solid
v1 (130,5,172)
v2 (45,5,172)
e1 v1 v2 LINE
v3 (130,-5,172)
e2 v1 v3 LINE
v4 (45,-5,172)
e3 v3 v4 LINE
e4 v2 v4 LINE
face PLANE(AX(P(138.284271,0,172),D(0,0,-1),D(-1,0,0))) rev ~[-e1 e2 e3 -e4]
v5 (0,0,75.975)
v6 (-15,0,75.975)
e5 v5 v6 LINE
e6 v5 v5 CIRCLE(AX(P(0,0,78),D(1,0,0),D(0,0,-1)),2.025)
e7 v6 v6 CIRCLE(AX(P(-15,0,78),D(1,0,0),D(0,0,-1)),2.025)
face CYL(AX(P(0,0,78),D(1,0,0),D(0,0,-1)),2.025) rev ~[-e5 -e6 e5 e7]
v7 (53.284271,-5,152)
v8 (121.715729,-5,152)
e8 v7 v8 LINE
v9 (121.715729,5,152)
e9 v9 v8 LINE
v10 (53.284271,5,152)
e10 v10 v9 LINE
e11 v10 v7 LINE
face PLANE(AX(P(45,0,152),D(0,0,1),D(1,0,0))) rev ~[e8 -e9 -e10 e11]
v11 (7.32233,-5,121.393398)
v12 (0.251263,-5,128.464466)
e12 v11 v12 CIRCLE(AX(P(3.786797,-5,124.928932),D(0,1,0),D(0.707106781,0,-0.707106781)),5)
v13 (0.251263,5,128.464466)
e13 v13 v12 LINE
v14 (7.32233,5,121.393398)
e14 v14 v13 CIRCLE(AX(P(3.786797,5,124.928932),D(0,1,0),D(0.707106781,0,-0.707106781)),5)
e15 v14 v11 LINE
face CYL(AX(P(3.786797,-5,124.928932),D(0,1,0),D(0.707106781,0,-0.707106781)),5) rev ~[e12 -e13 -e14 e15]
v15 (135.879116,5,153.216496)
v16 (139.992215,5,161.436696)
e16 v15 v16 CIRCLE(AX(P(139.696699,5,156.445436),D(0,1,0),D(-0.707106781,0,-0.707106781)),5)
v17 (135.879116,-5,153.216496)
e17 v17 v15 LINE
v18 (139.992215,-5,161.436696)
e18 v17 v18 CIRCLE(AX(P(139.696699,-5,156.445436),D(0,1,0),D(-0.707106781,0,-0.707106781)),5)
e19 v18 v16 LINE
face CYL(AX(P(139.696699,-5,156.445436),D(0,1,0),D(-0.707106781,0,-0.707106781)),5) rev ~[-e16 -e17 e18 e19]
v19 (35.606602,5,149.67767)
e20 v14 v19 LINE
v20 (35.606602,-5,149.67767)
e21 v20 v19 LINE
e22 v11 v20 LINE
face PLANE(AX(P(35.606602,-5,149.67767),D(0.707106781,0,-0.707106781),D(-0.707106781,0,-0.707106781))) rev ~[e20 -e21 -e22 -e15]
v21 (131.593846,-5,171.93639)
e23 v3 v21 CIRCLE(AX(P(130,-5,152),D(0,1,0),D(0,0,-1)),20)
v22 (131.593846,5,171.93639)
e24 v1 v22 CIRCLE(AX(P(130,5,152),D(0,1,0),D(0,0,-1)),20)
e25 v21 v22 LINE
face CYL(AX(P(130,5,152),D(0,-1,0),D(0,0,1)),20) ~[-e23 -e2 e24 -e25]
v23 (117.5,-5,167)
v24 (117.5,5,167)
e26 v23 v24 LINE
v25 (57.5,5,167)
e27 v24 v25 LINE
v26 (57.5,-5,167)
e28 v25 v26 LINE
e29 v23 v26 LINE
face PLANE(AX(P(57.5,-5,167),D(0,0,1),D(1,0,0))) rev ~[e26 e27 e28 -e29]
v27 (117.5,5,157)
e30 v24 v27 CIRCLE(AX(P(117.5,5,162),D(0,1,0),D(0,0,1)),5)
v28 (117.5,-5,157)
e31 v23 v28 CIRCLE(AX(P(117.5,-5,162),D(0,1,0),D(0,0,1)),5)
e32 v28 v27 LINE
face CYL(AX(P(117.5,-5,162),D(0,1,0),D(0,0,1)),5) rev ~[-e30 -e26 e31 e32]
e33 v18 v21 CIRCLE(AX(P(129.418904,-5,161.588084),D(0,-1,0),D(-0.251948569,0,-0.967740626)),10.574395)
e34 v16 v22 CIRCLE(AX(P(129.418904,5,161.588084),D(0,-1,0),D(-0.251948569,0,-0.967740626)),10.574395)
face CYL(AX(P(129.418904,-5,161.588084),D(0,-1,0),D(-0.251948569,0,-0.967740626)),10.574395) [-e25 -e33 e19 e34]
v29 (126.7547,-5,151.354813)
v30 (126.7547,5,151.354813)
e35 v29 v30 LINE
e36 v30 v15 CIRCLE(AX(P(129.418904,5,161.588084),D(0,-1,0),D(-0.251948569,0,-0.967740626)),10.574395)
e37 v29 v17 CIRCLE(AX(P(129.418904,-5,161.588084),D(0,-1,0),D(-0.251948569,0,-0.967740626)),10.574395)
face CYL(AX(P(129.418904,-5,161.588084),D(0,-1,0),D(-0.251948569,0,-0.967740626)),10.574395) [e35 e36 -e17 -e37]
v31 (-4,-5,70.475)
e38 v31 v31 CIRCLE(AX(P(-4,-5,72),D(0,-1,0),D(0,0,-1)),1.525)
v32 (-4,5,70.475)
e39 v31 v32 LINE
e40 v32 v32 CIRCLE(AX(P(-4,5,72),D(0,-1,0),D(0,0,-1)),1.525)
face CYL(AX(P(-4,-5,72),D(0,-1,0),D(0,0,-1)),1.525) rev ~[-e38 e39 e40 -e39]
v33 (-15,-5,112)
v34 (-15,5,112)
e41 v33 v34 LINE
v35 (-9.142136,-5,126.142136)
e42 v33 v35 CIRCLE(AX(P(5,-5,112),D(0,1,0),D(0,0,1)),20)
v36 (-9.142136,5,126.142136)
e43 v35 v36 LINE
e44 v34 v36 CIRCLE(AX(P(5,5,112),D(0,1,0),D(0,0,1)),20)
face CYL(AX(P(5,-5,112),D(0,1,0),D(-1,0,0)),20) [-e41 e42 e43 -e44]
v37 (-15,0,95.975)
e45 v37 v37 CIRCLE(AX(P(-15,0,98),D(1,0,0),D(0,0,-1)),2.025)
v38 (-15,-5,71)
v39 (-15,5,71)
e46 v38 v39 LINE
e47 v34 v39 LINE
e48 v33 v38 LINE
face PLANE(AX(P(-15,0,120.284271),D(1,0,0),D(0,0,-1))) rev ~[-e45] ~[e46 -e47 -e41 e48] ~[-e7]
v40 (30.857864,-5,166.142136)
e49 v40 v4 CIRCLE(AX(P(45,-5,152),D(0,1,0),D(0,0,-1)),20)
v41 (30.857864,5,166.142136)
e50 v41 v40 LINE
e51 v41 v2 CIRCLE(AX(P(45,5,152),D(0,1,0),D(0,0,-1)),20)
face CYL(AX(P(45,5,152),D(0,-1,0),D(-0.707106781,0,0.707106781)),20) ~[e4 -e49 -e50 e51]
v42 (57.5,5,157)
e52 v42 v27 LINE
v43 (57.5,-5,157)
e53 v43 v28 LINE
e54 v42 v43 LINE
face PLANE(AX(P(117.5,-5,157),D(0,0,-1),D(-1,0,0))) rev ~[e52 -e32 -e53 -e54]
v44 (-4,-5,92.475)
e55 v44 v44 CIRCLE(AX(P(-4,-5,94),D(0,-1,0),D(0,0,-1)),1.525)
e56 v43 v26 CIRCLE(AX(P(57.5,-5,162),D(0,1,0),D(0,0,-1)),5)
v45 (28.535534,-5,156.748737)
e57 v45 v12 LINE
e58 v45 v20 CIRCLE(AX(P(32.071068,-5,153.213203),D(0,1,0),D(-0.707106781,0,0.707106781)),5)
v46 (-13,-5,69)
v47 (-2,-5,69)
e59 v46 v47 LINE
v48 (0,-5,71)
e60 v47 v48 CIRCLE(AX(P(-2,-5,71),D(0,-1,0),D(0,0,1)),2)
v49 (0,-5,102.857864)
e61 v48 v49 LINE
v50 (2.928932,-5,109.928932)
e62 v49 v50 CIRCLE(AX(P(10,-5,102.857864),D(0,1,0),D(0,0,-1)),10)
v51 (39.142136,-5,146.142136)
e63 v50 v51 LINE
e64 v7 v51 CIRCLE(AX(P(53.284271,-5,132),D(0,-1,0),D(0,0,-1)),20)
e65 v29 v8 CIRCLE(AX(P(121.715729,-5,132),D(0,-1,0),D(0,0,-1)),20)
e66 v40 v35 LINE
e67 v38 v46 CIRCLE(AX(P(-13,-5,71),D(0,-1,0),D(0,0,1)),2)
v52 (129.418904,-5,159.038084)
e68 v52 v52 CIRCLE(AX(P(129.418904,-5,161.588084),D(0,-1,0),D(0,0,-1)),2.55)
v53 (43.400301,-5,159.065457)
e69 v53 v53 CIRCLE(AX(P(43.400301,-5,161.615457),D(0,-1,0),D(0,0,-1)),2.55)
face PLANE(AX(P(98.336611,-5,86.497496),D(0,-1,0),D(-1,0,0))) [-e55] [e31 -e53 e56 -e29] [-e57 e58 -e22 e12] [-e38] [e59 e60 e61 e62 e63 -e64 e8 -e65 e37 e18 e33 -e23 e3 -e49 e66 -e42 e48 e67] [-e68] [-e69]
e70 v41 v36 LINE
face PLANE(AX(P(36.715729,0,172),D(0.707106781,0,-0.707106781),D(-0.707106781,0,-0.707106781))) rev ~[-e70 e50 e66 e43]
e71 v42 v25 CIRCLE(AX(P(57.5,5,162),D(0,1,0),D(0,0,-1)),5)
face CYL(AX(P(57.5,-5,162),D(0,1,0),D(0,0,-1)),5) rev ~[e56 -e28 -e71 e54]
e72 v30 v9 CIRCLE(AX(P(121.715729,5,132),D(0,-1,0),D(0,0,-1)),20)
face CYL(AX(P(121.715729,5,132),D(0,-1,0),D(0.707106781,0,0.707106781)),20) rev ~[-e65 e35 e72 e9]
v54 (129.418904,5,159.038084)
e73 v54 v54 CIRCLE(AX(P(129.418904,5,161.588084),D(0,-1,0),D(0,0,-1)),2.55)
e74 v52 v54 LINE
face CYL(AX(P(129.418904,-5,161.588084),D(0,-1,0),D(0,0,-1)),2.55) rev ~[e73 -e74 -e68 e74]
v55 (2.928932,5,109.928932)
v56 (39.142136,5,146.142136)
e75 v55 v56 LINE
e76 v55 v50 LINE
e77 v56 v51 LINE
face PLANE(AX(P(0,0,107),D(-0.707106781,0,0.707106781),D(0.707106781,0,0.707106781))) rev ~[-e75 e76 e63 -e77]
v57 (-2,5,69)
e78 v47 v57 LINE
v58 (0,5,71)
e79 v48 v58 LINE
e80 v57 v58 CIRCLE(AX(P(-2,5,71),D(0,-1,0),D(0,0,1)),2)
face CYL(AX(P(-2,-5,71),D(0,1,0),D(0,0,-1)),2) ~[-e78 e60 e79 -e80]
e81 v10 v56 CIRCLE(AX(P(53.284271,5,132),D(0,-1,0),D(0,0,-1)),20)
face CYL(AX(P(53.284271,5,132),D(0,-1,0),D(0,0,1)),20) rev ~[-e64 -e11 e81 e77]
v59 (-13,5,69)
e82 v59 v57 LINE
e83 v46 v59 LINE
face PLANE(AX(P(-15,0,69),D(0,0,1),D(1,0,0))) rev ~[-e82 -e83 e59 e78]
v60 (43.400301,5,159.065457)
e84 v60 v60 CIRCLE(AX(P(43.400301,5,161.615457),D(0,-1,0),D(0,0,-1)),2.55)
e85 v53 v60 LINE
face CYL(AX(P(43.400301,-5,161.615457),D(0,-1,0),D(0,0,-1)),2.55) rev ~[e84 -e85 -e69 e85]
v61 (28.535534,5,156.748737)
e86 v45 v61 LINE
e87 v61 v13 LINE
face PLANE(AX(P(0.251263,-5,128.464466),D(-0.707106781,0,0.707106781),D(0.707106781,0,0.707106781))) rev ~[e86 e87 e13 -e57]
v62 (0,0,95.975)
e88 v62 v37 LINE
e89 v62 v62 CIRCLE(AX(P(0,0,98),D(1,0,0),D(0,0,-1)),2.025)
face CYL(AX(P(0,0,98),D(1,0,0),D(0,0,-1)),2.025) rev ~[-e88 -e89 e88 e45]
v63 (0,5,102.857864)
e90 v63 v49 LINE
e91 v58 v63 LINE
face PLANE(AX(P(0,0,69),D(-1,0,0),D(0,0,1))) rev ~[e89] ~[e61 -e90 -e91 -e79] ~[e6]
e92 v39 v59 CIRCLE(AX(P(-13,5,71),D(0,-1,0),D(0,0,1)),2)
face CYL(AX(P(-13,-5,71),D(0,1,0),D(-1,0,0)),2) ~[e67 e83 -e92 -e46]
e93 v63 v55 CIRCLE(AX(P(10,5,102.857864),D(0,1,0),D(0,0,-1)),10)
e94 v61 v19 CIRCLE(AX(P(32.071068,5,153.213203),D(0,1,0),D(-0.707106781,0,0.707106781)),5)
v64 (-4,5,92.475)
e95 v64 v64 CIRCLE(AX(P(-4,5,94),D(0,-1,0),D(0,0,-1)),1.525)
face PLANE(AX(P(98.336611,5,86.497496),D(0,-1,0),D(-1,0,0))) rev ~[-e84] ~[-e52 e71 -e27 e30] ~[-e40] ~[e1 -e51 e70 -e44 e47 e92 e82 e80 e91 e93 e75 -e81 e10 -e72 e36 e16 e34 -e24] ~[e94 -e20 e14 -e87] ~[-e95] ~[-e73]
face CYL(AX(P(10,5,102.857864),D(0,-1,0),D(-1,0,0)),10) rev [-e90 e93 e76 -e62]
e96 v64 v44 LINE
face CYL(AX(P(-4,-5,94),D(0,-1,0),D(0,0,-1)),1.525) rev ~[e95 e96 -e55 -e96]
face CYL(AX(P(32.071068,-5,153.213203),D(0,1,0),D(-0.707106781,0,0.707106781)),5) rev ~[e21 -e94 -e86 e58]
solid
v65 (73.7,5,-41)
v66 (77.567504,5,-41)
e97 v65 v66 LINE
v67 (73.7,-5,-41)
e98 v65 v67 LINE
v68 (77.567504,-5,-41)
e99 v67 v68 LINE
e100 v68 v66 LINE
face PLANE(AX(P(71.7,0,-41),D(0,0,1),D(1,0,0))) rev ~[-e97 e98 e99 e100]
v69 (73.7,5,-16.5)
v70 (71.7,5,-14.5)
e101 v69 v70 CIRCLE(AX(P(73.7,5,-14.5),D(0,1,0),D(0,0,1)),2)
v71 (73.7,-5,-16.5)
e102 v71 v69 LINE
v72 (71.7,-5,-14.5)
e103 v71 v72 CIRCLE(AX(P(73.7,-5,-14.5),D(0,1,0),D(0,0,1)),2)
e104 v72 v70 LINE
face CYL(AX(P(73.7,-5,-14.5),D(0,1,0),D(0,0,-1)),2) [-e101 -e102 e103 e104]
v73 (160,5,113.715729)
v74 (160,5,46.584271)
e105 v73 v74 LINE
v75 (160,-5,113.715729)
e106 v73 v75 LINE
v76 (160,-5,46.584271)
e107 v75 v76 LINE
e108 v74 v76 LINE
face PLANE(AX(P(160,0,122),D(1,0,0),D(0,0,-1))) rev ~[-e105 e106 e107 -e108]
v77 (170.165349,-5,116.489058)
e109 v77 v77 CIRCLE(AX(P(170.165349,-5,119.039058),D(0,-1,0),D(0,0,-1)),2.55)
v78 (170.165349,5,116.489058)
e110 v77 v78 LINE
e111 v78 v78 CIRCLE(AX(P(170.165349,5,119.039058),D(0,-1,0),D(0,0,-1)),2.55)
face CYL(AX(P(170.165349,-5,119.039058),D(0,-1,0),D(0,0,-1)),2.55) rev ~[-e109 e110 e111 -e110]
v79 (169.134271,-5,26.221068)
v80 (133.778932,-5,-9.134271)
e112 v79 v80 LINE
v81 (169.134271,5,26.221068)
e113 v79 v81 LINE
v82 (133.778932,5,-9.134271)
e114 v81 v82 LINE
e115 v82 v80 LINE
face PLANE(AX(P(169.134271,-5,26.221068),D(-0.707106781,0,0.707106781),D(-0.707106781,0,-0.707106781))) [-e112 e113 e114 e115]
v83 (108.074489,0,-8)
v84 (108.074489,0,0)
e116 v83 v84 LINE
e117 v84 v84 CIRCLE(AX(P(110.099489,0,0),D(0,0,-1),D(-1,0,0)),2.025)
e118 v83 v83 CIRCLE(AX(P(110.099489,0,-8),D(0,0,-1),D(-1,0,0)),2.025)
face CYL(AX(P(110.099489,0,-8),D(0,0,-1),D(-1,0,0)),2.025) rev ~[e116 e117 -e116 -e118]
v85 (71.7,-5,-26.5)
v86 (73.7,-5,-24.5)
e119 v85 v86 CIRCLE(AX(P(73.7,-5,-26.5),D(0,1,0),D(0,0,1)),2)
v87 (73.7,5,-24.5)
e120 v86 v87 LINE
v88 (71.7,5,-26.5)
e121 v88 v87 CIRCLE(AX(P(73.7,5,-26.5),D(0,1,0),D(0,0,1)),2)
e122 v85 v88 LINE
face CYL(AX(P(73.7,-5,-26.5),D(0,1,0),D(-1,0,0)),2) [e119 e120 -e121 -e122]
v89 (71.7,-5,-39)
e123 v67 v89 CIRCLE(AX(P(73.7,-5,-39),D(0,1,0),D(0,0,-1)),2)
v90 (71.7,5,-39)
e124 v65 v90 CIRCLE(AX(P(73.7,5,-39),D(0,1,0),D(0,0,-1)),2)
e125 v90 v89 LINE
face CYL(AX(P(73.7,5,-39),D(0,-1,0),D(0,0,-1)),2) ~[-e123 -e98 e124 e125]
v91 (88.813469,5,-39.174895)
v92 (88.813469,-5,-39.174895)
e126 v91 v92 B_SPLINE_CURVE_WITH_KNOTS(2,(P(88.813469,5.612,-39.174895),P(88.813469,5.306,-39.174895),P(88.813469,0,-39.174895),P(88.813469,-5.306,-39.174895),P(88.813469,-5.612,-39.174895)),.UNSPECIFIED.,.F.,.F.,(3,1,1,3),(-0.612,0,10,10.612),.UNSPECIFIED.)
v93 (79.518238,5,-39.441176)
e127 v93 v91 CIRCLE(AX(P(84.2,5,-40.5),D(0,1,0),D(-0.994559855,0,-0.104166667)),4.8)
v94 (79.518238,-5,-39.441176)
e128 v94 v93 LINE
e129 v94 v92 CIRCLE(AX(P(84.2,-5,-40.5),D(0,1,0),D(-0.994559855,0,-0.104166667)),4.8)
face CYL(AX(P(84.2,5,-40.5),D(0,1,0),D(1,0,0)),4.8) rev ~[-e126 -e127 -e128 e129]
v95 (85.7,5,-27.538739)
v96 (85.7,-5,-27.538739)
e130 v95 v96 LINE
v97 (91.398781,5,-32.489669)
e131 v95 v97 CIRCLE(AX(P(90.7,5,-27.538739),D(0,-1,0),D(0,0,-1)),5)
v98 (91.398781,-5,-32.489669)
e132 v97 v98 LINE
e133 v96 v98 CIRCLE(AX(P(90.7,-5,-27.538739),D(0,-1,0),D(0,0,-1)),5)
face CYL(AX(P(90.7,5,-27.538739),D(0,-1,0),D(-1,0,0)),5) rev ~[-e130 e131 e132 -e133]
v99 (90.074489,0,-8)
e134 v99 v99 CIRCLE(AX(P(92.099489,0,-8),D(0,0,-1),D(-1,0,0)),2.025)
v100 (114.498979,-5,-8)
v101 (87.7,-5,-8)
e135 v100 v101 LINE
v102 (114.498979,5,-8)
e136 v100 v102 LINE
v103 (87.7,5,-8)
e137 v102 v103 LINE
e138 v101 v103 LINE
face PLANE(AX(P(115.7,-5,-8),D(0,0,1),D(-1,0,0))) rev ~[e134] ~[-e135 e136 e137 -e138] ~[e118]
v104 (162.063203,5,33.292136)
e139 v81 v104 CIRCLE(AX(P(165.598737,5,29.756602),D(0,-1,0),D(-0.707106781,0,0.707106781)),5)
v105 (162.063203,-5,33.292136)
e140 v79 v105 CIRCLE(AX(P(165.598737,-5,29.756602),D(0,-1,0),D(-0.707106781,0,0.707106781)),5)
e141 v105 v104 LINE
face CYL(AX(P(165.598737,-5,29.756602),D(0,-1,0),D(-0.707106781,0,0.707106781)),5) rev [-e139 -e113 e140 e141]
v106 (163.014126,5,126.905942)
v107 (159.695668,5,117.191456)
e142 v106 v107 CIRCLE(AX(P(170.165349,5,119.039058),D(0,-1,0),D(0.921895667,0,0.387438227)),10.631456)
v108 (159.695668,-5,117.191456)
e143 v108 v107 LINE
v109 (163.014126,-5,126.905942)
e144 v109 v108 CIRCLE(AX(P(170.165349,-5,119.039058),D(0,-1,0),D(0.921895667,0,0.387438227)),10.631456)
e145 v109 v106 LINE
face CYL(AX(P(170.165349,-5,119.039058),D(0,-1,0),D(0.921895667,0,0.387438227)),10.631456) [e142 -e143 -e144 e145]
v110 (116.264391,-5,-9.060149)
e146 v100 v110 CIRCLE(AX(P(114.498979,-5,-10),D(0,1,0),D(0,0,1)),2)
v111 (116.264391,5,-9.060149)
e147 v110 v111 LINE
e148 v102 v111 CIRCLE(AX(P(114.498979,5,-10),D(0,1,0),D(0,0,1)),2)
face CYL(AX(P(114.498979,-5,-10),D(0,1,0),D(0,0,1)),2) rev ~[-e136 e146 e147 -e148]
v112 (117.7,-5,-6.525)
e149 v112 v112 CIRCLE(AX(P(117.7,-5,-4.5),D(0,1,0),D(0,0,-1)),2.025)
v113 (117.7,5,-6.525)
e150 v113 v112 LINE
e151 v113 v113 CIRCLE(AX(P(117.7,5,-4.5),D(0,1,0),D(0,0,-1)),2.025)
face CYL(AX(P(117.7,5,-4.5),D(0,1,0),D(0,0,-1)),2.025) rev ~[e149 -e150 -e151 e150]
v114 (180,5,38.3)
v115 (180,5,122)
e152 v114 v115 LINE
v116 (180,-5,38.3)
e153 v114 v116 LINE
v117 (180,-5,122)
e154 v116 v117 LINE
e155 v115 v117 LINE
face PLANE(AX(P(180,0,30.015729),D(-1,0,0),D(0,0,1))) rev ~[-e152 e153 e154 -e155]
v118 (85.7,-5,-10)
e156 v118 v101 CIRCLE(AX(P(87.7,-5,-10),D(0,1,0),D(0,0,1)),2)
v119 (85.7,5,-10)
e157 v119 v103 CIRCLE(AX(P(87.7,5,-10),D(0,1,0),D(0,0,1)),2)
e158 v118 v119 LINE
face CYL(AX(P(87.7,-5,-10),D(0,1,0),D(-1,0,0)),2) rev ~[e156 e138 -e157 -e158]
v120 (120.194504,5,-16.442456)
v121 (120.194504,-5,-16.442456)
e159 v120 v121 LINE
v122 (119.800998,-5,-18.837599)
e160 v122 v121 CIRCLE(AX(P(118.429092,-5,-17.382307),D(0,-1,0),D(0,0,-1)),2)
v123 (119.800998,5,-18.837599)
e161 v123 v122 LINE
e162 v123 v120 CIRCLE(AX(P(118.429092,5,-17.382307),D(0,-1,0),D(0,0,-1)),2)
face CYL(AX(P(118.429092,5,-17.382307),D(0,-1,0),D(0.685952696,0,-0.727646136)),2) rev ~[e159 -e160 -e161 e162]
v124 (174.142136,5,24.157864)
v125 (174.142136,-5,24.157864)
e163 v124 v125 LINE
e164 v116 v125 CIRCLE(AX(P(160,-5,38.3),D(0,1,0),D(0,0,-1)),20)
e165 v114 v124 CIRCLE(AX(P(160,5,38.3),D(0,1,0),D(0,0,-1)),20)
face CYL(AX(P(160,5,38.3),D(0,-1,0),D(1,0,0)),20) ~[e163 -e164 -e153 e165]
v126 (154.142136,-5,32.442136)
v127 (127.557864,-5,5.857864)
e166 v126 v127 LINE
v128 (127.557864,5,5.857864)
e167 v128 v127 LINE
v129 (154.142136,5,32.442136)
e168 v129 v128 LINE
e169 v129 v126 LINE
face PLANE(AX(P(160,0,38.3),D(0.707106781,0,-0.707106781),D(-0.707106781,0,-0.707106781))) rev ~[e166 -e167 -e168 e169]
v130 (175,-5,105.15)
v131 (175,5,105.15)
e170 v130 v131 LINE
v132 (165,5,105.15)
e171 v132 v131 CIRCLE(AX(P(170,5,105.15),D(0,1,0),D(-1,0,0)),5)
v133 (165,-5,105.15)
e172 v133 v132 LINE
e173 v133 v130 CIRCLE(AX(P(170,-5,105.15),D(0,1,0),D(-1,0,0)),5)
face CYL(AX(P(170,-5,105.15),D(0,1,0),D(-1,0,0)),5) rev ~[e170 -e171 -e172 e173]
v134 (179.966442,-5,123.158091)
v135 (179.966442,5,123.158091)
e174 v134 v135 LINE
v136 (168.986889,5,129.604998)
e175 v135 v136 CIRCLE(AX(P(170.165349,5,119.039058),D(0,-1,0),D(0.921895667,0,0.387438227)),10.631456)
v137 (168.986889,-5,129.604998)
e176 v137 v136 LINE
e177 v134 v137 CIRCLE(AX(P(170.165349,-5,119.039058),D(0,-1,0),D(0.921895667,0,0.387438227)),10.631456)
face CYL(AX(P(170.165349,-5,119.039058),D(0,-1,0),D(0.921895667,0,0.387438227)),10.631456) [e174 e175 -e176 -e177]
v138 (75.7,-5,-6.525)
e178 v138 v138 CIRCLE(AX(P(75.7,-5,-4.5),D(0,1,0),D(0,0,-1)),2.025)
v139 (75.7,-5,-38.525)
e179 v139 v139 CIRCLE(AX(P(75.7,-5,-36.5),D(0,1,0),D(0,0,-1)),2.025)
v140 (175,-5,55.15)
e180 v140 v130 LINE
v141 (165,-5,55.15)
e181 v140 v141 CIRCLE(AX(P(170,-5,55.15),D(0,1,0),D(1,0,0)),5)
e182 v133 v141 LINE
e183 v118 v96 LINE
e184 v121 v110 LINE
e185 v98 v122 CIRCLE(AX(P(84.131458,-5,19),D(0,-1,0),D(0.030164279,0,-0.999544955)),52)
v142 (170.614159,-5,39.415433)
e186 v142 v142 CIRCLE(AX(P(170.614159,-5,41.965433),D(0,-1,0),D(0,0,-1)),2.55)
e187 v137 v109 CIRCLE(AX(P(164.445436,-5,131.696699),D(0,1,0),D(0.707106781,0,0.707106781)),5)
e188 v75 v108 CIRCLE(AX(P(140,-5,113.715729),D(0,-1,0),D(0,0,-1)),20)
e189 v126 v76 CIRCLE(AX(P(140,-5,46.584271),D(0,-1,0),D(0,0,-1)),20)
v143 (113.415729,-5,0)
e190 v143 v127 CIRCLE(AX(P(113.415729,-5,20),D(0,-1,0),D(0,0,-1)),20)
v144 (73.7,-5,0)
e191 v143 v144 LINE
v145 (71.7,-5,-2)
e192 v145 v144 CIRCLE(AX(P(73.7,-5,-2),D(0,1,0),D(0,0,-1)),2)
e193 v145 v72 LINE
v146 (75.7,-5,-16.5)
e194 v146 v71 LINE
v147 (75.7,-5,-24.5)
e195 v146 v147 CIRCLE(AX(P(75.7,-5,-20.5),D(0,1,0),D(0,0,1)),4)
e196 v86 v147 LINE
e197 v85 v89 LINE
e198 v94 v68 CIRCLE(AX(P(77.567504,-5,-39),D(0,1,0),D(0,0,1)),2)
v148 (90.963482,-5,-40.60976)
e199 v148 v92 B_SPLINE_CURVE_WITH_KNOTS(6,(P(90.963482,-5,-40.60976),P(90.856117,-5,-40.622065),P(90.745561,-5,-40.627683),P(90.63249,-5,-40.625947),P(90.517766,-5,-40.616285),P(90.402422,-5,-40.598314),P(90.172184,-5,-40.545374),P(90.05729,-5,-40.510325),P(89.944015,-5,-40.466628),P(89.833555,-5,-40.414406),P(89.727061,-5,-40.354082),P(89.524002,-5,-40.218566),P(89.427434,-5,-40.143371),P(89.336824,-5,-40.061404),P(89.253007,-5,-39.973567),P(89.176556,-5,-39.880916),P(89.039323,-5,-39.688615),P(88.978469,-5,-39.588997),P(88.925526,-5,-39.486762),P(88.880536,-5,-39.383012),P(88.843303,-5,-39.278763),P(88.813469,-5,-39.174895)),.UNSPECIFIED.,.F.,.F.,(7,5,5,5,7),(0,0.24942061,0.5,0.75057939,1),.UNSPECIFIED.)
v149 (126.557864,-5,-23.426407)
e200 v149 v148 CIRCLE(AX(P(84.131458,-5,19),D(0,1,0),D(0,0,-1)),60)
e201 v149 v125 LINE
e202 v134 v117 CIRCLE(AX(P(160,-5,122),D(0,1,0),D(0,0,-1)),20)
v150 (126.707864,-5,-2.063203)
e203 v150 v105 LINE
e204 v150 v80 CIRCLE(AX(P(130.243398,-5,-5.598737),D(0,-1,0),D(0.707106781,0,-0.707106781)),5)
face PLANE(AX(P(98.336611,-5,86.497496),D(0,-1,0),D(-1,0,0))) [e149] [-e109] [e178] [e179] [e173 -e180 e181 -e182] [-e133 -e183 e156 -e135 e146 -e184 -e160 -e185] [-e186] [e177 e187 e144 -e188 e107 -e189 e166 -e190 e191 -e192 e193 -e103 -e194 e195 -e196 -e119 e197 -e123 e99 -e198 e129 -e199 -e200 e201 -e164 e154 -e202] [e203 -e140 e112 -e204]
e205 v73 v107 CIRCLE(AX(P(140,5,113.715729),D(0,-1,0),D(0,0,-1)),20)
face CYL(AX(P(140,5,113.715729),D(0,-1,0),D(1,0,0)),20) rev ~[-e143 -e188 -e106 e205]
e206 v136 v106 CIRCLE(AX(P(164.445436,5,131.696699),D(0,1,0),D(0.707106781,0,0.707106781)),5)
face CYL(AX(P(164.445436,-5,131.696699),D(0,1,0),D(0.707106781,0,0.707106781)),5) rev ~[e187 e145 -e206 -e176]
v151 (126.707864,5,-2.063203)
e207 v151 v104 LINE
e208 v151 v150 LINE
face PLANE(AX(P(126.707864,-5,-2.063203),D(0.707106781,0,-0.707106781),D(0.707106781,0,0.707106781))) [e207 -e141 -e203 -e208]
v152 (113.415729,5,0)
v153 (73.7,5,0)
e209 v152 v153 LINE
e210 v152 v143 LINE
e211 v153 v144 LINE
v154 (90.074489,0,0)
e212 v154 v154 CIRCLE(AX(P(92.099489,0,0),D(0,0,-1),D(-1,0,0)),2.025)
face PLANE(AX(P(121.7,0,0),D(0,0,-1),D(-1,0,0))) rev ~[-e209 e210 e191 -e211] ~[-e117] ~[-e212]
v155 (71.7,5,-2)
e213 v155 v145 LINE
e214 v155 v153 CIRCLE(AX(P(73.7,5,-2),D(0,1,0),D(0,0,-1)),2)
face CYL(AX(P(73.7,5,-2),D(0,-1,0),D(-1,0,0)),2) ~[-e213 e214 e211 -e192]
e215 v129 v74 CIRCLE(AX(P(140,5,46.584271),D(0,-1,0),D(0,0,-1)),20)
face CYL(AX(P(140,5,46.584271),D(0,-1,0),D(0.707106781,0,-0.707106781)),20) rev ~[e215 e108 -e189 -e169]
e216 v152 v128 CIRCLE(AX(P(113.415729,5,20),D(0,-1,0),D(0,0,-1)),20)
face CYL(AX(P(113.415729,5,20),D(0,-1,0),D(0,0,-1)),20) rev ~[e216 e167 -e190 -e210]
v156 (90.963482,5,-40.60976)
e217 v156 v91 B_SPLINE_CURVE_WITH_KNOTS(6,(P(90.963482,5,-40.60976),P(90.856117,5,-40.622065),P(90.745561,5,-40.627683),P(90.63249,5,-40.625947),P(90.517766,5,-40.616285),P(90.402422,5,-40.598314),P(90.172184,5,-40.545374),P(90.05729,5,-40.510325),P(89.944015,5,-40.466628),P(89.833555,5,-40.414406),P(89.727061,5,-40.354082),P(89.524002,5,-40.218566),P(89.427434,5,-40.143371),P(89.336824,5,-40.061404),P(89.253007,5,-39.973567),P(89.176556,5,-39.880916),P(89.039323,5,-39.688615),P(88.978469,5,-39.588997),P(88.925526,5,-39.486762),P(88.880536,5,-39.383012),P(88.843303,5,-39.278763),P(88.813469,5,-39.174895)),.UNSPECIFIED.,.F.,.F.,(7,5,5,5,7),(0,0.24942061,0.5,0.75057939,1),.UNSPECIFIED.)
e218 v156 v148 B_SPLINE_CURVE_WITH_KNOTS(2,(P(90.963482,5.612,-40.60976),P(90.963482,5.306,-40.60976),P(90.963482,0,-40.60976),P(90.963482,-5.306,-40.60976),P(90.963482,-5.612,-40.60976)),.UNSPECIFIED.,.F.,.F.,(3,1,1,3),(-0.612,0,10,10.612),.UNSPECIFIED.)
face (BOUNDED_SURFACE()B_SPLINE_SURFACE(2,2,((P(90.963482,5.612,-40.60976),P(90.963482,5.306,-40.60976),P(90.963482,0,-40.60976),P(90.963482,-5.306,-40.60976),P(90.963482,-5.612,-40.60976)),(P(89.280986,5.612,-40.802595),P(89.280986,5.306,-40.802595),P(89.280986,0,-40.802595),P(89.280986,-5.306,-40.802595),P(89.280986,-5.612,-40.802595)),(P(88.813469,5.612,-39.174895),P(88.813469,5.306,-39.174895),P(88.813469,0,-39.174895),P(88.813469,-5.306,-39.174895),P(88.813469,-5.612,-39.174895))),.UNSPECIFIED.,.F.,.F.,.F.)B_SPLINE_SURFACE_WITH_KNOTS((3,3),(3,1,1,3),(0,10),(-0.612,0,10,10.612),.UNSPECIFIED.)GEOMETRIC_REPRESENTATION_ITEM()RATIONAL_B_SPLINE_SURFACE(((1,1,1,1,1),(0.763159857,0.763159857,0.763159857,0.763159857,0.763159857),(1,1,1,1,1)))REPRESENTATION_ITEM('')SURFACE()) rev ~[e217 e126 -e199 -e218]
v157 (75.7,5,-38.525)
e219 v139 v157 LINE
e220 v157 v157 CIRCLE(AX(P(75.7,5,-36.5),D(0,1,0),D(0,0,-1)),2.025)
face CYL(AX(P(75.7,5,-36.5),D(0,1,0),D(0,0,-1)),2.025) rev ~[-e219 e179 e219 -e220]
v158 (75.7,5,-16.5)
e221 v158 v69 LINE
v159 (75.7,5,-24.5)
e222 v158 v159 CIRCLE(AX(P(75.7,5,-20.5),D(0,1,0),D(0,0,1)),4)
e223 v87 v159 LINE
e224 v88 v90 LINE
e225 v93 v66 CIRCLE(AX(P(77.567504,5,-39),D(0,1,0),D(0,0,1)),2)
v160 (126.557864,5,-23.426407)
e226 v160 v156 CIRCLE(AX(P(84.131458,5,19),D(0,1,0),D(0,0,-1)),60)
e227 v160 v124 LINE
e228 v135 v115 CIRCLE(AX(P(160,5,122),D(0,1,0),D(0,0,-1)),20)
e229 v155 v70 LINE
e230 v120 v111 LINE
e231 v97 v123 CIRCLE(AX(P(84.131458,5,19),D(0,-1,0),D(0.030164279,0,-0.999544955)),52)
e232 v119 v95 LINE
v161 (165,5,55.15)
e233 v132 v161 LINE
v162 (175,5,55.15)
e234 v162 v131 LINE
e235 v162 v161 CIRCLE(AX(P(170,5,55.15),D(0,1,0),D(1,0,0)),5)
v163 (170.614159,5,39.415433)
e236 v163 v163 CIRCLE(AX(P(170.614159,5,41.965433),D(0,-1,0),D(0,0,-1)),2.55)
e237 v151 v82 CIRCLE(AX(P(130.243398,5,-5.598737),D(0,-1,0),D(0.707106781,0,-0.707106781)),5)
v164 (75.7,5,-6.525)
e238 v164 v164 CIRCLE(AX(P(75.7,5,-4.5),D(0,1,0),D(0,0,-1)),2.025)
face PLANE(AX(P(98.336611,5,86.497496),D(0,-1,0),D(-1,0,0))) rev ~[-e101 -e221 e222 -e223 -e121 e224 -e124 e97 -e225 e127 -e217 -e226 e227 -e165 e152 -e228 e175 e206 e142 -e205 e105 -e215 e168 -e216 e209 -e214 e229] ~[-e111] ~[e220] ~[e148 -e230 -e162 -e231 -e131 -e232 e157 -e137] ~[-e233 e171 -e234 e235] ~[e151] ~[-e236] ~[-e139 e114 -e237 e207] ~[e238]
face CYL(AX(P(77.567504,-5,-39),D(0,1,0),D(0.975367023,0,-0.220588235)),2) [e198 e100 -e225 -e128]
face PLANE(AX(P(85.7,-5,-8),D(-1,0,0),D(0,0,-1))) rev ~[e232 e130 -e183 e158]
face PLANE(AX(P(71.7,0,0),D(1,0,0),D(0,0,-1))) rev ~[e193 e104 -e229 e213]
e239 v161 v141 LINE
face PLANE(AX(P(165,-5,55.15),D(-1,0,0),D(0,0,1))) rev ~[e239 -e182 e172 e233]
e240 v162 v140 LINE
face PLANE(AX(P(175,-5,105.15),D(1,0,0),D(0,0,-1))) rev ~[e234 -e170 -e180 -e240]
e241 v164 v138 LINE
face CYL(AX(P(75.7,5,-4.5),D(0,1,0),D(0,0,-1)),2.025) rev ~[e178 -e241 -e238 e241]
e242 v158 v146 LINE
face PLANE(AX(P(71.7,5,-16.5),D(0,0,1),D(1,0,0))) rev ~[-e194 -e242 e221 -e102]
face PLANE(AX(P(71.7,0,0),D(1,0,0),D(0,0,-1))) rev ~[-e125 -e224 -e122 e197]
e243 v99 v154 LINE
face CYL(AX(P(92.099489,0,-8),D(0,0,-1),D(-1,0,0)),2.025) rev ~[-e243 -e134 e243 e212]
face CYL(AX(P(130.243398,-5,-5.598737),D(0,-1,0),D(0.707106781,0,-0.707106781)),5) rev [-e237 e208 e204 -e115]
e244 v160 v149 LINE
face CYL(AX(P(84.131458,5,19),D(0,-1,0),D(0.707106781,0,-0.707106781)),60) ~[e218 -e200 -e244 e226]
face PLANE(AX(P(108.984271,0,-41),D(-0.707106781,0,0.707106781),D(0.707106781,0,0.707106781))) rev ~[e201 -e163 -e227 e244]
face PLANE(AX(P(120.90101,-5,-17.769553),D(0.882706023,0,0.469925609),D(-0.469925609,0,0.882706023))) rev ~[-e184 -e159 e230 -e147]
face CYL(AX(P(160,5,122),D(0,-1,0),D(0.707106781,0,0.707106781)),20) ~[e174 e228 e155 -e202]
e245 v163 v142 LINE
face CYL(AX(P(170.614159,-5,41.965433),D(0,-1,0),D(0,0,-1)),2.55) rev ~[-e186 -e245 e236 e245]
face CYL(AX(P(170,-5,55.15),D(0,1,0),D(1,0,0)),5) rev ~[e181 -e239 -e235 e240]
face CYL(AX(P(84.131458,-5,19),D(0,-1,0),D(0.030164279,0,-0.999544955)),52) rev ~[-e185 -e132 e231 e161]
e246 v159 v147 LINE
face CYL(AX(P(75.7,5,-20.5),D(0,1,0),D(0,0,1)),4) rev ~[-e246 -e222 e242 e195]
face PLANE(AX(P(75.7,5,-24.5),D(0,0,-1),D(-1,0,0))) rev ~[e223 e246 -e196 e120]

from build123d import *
from OCP.BRepFilletAPI import BRepFilletAPI_MakeFillet

# Parameters (mm, degrees)
EXTRUDE_1_DEPTH      = 5
FILLET_1_R1          = 10
FILLET_1_R2          = 20
FILLET_2_R1          = 20
FILLET_2_R2          = 60
FILLET_3_R           = 2
SKETCH_3_R           = 2.025
CUT_EXTRUDE_1_DEPTH  = 20
SKETCH_4_R           = 4.8
CUT_EXTRUDE_2_DEPTH  = 25
FILLET_4_R           = 2
SKETCH_5_R           = 1.525
CUT_EXTRUDE_3_DEPTH  = 20
CUT_EXTRUDE_4_DEPTH  = 20
CUT_EXTRUDE_5_DEPTH  = 20
FILLET_5_R           = 5
FILLET_6_R           = 2
SKETCH_8_R           = 2.55
CUT_EXTRUDE_6_DEPTH  = 25
SKETCH_9_R           = 2.025
CUT_EXTRUDE_7_DEPTH  = 17
CUT_EXTRUDE_START    = -10
CUT_EXTRUDE_10_DEPTH = 10
SKETCH_17_R          = 2.025
CUT_EXTRUDE_11_DEPTH = 8


with BuildPart() as part:
    # 草图2 → 凸台-拉伸1 (new, symmetric)
    with BuildSketch(Plane(origin=(0, 0, 0), x_dir=(1, 0, 0), z_dir=(0, 1, 0))):
        Polygon((0, -69), (0, -107), (45, -152), (130, -152), (160, -122), (160, -38.3), (121.7, 0), (71.7, 0), (71.7, 41), (108.984271247, 41), (180, -30.015728753), (180, -130.284271247), (138.284271247, -172), (36.715728753, -172), (-15, -120.284271247), (-15, -69), align=None)
    extrude(amount=EXTRUDE_1_DEPTH, both=True)

    # 圆角1: one fillet with a radius per group of edges: ONE call of the kernel's fillet builder (fillet() takes one radius for all edges)
    fillet_1_edges_1 = [part.edges().sort_by_distance(p)[0] for p in [
        (0, 0, 107),
    ]]
    fillet_1_edges_2 = [part.edges().sort_by_distance(p)[0] for p in [
        (45, 0, 152),
        (130, 0, 152),
        (160, 0, 122),
        (160, 0, 38.3),
        (121.7, 0, 0),
    ]]
    fillet_1 = BRepFilletAPI_MakeFillet(part.part.solid().wrapped)
    for e in fillet_1_edges_1:
        fillet_1.Add(FILLET_1_R1, e.wrapped)
    for e in fillet_1_edges_2:
        fillet_1.Add(FILLET_1_R2, e.wrapped)
    add(Compound.cast(fillet_1.Shape()), mode=Mode.REPLACE)

    # 圆角2: one fillet with a radius per group of edges: ONE call of the kernel's fillet builder (fillet() takes one radius for all edges)
    fillet_2_edges_1 = [part.edges().sort_by_distance(p)[0] for p in [
        (36.715728753, 0, 172),
        (-15, 0, 120.284271247),
        (138.284271247, 0, 172),
        (180, 0, 130.284271247),
        (180, 0, 30.015728753),
    ]]
    fillet_2_edges_2 = [part.edges().sort_by_distance(p)[0] for p in [
        (108.984271247, 0, -41),
    ]]
    fillet_2 = BRepFilletAPI_MakeFillet(part.part.solid().wrapped)
    for e in fillet_2_edges_1:
        fillet_2.Add(FILLET_2_R1, e.wrapped)
    for e in fillet_2_edges_2:
        fillet_2.Add(FILLET_2_R2, e.wrapped)
    add(Compound.cast(fillet_2.Shape()), mode=Mode.REPLACE)

    # 圆角3
    fillet_3_edges = [part.edges().sort_by_distance(p)[0] for p in [
        (71.7, 0, 0),
        (71.7, 0, -41),
        (-15, 0, 69),
        (0, 0, 69),
    ]]
    fillet(fillet_3_edges, radius=FILLET_3_R)

    # 草图3 → 切除-拉伸1 (cut, symmetric)
    with BuildSketch(Plane(origin=(0, 5, 0), x_dir=(1, 0, 0), z_dir=(0, 1, 0))):
        with Locations(Location((75.7, 4.5, 0), (0, 0, 90))):
            Circle(SKETCH_3_R)
        with Locations(Location((117.7, 4.5, 0), (0, 0, 90))):
            Circle(SKETCH_3_R)
        with Locations(Location((75.7, 36.5, 0), (0, 0, 90))):
            Circle(SKETCH_3_R)
    extrude(amount=CUT_EXTRUDE_1_DEPTH, both=True, mode=Mode.SUBTRACT)

    # 草图4 → 切除-拉伸2 (cut, symmetric)
    with BuildSketch(Plane(origin=(0, 5, 0), x_dir=(1, 0, 0), z_dir=(0, 1, 0))):
        with Locations((84.2, 40.5)):
            Circle(SKETCH_4_R)
        with BuildLine():
            Line((75.7, 24.5), (71.7, 24.5))
            Line((71.7, 24.5), (71.7, 16.5))
            Line((71.7, 16.5), (75.7, 16.5))
            ThreePointArc((75.7, 16.5), (79.7, 20.5), (75.7, 24.5))
        make_face()
    extrude(amount=CUT_EXTRUDE_2_DEPTH, both=True, mode=Mode.SUBTRACT)

    # 圆角4
    fillet_4_edges = [part.edges().sort_by_distance(p)[0] for p in [
        (88.990431478, 0, -40.802929459),
        (79.426112695, 0, -41),
        (71.7, 0, -16.5),
        (71.7, 0, -24.5),
    ]]
    fillet(fillet_4_edges, radius=FILLET_4_R)

    # 草图5 → 切除-拉伸3 (cut, symmetric)
    with BuildSketch(Plane.XZ.offset(5)):
        with Locations(Location((-4, 72, 0), (0, 0, 270))):
            Circle(SKETCH_5_R)
        with Locations(Location((-4, 94, 0), (0, 0, 270))):
            Circle(SKETCH_5_R)
    extrude(amount=CUT_EXTRUDE_3_DEPTH, both=True, mode=Mode.SUBTRACT)

    # 草图6 → 切除-拉伸4 (cut, symmetric)
    with BuildSketch(Plane.XZ.offset(5)):
        with BuildLine():
            Line((0.251262658, 128.464466094), (28.535533906, 156.748737342))
            ThreePointArc((28.535533906, 156.748737342), (35.606601718, 156.748737342), (35.606601718, 149.67766953))
            Line((35.606601718, 149.67766953), (7.32233047, 121.393398282))
            ThreePointArc((7.32233047, 121.393398282), (0.251262658, 121.393398282), (0.251262658, 128.464466094))
        make_face()
        with BuildLine():
            Line((57.5, 167), (117.5, 167))
            ThreePointArc((117.5, 167), (122.5, 162), (117.5, 157))
            Line((117.5, 157), (57.5, 157))
            ThreePointArc((57.5, 157), (52.5, 162), (57.5, 167))
        make_face()
        with BuildLine():
            Line((143.232233047, 159.980970389), (167.980970389, 135.232233047))
            ThreePointArc((167.980970389, 135.232233047), (167.980970389, 128.161165235), (160.909902577, 128.161165235))
            Line((160.909902577, 128.161165235), (136.161165235, 152.909902577))
            ThreePointArc((136.161165235, 152.909902577), (136.161165235, 159.980970389), (143.232233047, 159.980970389))
        make_face()
        with BuildLine():
            Line((165, 55.15), (165, 105.15))
            ThreePointArc((165, 105.15), (170, 110.15), (175, 105.15))
            Line((175, 105.15), (175, 55.15))
            ThreePointArc((175, 55.15), (170, 50.15), (165, 55.15))
        make_face()
        with BuildLine():
            Line((126.707864376, -2.063203436), (162.063203436, 33.292135624))
            ThreePointArc((162.063203436, 33.292135624), (169.134271247, 33.292135624), (169.134271247, 26.221067812))
            Line((169.134271247, 26.221067812), (133.778932188, -9.134271247))
            ThreePointArc((133.778932188, -9.134271247), (126.707864376, -9.134271247), (126.707864376, -2.063203436))
        make_face()
    extrude(amount=CUT_EXTRUDE_4_DEPTH, both=True, mode=Mode.SUBTRACT)

    # 草图7 → 切除-拉伸5 (cut, symmetric)
    with BuildSketch(Plane.XZ.offset(5)):
        with BuildLine():
            Line((85.7, -8), (85.7, -32.97633764))
            ThreePointArc((85.7, -32.97633764), (104.753386657, -28.736108325), (120.901010127, -17.769552622))
            Line((120.901010127, -17.769552622), (115.7, -8))
            Line((115.7, -8), (85.7, -8))
        make_face()
    extrude(amount=CUT_EXTRUDE_5_DEPTH, both=True, mode=Mode.SUBTRACT)

    # 圆角5
    fillet_5_edges = [part.edges().sort_by_distance(p)[0] for p in [
        (85.7, 0, -32.97633764),
    ]]
    fillet(fillet_5_edges, radius=FILLET_5_R)

    # 圆角6
    fillet_6_edges = [part.edges().sort_by_distance(p)[0] for p in [
        (85.7, 0, -8),
        (115.7, 0, -8),
        (120.901010127, 0, -17.769552622),
    ]]
    fillet(fillet_6_edges, radius=FILLET_6_R)

    # 草图8 → 切除-拉伸6 (cut, symmetric)
    with BuildSketch(Plane.XZ.offset(5)):
        with Locations(Location((129.418903719, 161.588083739, 0), (0, 0, 270))):
            Circle(SKETCH_8_R)
        with Locations(Location((43.400300748, 161.615457479, 0), (0, 0, 270))):
            Circle(SKETCH_8_R)
        with Locations(Location((170.165348997, 119.039058113, 0), (0, 0, 270))):
            Circle(SKETCH_8_R)
        with Locations(Location((170.614159104, 41.965432639, 0), (0, 0, 270))):
            Circle(SKETCH_8_R)
    extrude(amount=CUT_EXTRUDE_6_DEPTH, both=True, mode=Mode.SUBTRACT)

    # 草图9 → 切除-拉伸7 (cut)
    with BuildSketch(Plane(origin=(0, 0, 0), x_dir=(0, 0, -1), z_dir=(1, 0, 0))):
        with Locations((-98, 0)):
            Circle(SKETCH_9_R)
        with Locations((-78, 0)):
            Circle(SKETCH_9_R)
    extrude(amount=-CUT_EXTRUDE_7_DEPTH, mode=Mode.SUBTRACT)

    # 草图15 → 切除-拉伸10 (cut)
    with BuildSketch(Plane(origin=(0, 5, 0), x_dir=(1, 0, 0), z_dir=(0, 1, 0)).offset(CUT_EXTRUDE_START)):
        with BuildLine():
            Line((144.142135624, -166.142135624), (174.142135624, -136.142135624))
            ThreePointArc((174.142135624, -136.142135624), (178.24815418, -130.18565019), (179.966442496, -123.1580907))
            ThreePointArc((179.966442496, -123.1580907), (167.163360508, -129.237878062), (159.695667547, -117.191455996))
            ThreePointArc((159.695667547, -117.191455996), (157.739568704, -122.95194563), (154.142135624, -127.857864376))
            Line((154.142135624, -127.857864376), (135.857864376, -146.142135624))
            ThreePointArc((135.857864376, -146.142135624), (131.65412483, -149.355929345), (126.754700135, -151.354812513))
            ThreePointArc((126.754700135, -151.354812513), (139.712599821, -159.167827292), (131.593845924, -171.936390224))
            ThreePointArc((131.593845924, -171.936390224), (138.384427554, -170.15768087), (144.142135624, -166.142135624))
        make_face()
    extrude(amount=CUT_EXTRUDE_10_DEPTH, mode=Mode.SUBTRACT)


with BuildPart() as cut_extrude_10_piece_1:
    # of the separate pieces the step leaves, piece 1, a body of its own (cut_extrude_10_pieces)
    add(part.part.solids().sort_by_distance((71.7, -5, -14.5))[0])

    # 草图17 → 切除-拉伸11 (cut)
    with BuildSketch(Plane(origin=(0, 0, -8), x_dir=(-1, 0, 0), z_dir=(0, 0, -1))):
        with Locations((-110.099489323, 0)):
            Circle(SKETCH_17_R)
        with Locations((-92.099489323, 0)):
            Circle(SKETCH_17_R)
    extrude(amount=-CUT_EXTRUDE_11_DEPTH, mode=Mode.SUBTRACT)


with BuildPart() as cut_extrude_10_piece_2:
    # of the separate pieces the step leaves, piece 2, a body of its own (cut_extrude_10_pieces)
    add(part.part.solids().sort_by_distance((126.754700135, -5, 151.354812513))[0])


solid = Compound([cut_extrude_10_piece_1.part, cut_extrude_10_piece_2.part])
